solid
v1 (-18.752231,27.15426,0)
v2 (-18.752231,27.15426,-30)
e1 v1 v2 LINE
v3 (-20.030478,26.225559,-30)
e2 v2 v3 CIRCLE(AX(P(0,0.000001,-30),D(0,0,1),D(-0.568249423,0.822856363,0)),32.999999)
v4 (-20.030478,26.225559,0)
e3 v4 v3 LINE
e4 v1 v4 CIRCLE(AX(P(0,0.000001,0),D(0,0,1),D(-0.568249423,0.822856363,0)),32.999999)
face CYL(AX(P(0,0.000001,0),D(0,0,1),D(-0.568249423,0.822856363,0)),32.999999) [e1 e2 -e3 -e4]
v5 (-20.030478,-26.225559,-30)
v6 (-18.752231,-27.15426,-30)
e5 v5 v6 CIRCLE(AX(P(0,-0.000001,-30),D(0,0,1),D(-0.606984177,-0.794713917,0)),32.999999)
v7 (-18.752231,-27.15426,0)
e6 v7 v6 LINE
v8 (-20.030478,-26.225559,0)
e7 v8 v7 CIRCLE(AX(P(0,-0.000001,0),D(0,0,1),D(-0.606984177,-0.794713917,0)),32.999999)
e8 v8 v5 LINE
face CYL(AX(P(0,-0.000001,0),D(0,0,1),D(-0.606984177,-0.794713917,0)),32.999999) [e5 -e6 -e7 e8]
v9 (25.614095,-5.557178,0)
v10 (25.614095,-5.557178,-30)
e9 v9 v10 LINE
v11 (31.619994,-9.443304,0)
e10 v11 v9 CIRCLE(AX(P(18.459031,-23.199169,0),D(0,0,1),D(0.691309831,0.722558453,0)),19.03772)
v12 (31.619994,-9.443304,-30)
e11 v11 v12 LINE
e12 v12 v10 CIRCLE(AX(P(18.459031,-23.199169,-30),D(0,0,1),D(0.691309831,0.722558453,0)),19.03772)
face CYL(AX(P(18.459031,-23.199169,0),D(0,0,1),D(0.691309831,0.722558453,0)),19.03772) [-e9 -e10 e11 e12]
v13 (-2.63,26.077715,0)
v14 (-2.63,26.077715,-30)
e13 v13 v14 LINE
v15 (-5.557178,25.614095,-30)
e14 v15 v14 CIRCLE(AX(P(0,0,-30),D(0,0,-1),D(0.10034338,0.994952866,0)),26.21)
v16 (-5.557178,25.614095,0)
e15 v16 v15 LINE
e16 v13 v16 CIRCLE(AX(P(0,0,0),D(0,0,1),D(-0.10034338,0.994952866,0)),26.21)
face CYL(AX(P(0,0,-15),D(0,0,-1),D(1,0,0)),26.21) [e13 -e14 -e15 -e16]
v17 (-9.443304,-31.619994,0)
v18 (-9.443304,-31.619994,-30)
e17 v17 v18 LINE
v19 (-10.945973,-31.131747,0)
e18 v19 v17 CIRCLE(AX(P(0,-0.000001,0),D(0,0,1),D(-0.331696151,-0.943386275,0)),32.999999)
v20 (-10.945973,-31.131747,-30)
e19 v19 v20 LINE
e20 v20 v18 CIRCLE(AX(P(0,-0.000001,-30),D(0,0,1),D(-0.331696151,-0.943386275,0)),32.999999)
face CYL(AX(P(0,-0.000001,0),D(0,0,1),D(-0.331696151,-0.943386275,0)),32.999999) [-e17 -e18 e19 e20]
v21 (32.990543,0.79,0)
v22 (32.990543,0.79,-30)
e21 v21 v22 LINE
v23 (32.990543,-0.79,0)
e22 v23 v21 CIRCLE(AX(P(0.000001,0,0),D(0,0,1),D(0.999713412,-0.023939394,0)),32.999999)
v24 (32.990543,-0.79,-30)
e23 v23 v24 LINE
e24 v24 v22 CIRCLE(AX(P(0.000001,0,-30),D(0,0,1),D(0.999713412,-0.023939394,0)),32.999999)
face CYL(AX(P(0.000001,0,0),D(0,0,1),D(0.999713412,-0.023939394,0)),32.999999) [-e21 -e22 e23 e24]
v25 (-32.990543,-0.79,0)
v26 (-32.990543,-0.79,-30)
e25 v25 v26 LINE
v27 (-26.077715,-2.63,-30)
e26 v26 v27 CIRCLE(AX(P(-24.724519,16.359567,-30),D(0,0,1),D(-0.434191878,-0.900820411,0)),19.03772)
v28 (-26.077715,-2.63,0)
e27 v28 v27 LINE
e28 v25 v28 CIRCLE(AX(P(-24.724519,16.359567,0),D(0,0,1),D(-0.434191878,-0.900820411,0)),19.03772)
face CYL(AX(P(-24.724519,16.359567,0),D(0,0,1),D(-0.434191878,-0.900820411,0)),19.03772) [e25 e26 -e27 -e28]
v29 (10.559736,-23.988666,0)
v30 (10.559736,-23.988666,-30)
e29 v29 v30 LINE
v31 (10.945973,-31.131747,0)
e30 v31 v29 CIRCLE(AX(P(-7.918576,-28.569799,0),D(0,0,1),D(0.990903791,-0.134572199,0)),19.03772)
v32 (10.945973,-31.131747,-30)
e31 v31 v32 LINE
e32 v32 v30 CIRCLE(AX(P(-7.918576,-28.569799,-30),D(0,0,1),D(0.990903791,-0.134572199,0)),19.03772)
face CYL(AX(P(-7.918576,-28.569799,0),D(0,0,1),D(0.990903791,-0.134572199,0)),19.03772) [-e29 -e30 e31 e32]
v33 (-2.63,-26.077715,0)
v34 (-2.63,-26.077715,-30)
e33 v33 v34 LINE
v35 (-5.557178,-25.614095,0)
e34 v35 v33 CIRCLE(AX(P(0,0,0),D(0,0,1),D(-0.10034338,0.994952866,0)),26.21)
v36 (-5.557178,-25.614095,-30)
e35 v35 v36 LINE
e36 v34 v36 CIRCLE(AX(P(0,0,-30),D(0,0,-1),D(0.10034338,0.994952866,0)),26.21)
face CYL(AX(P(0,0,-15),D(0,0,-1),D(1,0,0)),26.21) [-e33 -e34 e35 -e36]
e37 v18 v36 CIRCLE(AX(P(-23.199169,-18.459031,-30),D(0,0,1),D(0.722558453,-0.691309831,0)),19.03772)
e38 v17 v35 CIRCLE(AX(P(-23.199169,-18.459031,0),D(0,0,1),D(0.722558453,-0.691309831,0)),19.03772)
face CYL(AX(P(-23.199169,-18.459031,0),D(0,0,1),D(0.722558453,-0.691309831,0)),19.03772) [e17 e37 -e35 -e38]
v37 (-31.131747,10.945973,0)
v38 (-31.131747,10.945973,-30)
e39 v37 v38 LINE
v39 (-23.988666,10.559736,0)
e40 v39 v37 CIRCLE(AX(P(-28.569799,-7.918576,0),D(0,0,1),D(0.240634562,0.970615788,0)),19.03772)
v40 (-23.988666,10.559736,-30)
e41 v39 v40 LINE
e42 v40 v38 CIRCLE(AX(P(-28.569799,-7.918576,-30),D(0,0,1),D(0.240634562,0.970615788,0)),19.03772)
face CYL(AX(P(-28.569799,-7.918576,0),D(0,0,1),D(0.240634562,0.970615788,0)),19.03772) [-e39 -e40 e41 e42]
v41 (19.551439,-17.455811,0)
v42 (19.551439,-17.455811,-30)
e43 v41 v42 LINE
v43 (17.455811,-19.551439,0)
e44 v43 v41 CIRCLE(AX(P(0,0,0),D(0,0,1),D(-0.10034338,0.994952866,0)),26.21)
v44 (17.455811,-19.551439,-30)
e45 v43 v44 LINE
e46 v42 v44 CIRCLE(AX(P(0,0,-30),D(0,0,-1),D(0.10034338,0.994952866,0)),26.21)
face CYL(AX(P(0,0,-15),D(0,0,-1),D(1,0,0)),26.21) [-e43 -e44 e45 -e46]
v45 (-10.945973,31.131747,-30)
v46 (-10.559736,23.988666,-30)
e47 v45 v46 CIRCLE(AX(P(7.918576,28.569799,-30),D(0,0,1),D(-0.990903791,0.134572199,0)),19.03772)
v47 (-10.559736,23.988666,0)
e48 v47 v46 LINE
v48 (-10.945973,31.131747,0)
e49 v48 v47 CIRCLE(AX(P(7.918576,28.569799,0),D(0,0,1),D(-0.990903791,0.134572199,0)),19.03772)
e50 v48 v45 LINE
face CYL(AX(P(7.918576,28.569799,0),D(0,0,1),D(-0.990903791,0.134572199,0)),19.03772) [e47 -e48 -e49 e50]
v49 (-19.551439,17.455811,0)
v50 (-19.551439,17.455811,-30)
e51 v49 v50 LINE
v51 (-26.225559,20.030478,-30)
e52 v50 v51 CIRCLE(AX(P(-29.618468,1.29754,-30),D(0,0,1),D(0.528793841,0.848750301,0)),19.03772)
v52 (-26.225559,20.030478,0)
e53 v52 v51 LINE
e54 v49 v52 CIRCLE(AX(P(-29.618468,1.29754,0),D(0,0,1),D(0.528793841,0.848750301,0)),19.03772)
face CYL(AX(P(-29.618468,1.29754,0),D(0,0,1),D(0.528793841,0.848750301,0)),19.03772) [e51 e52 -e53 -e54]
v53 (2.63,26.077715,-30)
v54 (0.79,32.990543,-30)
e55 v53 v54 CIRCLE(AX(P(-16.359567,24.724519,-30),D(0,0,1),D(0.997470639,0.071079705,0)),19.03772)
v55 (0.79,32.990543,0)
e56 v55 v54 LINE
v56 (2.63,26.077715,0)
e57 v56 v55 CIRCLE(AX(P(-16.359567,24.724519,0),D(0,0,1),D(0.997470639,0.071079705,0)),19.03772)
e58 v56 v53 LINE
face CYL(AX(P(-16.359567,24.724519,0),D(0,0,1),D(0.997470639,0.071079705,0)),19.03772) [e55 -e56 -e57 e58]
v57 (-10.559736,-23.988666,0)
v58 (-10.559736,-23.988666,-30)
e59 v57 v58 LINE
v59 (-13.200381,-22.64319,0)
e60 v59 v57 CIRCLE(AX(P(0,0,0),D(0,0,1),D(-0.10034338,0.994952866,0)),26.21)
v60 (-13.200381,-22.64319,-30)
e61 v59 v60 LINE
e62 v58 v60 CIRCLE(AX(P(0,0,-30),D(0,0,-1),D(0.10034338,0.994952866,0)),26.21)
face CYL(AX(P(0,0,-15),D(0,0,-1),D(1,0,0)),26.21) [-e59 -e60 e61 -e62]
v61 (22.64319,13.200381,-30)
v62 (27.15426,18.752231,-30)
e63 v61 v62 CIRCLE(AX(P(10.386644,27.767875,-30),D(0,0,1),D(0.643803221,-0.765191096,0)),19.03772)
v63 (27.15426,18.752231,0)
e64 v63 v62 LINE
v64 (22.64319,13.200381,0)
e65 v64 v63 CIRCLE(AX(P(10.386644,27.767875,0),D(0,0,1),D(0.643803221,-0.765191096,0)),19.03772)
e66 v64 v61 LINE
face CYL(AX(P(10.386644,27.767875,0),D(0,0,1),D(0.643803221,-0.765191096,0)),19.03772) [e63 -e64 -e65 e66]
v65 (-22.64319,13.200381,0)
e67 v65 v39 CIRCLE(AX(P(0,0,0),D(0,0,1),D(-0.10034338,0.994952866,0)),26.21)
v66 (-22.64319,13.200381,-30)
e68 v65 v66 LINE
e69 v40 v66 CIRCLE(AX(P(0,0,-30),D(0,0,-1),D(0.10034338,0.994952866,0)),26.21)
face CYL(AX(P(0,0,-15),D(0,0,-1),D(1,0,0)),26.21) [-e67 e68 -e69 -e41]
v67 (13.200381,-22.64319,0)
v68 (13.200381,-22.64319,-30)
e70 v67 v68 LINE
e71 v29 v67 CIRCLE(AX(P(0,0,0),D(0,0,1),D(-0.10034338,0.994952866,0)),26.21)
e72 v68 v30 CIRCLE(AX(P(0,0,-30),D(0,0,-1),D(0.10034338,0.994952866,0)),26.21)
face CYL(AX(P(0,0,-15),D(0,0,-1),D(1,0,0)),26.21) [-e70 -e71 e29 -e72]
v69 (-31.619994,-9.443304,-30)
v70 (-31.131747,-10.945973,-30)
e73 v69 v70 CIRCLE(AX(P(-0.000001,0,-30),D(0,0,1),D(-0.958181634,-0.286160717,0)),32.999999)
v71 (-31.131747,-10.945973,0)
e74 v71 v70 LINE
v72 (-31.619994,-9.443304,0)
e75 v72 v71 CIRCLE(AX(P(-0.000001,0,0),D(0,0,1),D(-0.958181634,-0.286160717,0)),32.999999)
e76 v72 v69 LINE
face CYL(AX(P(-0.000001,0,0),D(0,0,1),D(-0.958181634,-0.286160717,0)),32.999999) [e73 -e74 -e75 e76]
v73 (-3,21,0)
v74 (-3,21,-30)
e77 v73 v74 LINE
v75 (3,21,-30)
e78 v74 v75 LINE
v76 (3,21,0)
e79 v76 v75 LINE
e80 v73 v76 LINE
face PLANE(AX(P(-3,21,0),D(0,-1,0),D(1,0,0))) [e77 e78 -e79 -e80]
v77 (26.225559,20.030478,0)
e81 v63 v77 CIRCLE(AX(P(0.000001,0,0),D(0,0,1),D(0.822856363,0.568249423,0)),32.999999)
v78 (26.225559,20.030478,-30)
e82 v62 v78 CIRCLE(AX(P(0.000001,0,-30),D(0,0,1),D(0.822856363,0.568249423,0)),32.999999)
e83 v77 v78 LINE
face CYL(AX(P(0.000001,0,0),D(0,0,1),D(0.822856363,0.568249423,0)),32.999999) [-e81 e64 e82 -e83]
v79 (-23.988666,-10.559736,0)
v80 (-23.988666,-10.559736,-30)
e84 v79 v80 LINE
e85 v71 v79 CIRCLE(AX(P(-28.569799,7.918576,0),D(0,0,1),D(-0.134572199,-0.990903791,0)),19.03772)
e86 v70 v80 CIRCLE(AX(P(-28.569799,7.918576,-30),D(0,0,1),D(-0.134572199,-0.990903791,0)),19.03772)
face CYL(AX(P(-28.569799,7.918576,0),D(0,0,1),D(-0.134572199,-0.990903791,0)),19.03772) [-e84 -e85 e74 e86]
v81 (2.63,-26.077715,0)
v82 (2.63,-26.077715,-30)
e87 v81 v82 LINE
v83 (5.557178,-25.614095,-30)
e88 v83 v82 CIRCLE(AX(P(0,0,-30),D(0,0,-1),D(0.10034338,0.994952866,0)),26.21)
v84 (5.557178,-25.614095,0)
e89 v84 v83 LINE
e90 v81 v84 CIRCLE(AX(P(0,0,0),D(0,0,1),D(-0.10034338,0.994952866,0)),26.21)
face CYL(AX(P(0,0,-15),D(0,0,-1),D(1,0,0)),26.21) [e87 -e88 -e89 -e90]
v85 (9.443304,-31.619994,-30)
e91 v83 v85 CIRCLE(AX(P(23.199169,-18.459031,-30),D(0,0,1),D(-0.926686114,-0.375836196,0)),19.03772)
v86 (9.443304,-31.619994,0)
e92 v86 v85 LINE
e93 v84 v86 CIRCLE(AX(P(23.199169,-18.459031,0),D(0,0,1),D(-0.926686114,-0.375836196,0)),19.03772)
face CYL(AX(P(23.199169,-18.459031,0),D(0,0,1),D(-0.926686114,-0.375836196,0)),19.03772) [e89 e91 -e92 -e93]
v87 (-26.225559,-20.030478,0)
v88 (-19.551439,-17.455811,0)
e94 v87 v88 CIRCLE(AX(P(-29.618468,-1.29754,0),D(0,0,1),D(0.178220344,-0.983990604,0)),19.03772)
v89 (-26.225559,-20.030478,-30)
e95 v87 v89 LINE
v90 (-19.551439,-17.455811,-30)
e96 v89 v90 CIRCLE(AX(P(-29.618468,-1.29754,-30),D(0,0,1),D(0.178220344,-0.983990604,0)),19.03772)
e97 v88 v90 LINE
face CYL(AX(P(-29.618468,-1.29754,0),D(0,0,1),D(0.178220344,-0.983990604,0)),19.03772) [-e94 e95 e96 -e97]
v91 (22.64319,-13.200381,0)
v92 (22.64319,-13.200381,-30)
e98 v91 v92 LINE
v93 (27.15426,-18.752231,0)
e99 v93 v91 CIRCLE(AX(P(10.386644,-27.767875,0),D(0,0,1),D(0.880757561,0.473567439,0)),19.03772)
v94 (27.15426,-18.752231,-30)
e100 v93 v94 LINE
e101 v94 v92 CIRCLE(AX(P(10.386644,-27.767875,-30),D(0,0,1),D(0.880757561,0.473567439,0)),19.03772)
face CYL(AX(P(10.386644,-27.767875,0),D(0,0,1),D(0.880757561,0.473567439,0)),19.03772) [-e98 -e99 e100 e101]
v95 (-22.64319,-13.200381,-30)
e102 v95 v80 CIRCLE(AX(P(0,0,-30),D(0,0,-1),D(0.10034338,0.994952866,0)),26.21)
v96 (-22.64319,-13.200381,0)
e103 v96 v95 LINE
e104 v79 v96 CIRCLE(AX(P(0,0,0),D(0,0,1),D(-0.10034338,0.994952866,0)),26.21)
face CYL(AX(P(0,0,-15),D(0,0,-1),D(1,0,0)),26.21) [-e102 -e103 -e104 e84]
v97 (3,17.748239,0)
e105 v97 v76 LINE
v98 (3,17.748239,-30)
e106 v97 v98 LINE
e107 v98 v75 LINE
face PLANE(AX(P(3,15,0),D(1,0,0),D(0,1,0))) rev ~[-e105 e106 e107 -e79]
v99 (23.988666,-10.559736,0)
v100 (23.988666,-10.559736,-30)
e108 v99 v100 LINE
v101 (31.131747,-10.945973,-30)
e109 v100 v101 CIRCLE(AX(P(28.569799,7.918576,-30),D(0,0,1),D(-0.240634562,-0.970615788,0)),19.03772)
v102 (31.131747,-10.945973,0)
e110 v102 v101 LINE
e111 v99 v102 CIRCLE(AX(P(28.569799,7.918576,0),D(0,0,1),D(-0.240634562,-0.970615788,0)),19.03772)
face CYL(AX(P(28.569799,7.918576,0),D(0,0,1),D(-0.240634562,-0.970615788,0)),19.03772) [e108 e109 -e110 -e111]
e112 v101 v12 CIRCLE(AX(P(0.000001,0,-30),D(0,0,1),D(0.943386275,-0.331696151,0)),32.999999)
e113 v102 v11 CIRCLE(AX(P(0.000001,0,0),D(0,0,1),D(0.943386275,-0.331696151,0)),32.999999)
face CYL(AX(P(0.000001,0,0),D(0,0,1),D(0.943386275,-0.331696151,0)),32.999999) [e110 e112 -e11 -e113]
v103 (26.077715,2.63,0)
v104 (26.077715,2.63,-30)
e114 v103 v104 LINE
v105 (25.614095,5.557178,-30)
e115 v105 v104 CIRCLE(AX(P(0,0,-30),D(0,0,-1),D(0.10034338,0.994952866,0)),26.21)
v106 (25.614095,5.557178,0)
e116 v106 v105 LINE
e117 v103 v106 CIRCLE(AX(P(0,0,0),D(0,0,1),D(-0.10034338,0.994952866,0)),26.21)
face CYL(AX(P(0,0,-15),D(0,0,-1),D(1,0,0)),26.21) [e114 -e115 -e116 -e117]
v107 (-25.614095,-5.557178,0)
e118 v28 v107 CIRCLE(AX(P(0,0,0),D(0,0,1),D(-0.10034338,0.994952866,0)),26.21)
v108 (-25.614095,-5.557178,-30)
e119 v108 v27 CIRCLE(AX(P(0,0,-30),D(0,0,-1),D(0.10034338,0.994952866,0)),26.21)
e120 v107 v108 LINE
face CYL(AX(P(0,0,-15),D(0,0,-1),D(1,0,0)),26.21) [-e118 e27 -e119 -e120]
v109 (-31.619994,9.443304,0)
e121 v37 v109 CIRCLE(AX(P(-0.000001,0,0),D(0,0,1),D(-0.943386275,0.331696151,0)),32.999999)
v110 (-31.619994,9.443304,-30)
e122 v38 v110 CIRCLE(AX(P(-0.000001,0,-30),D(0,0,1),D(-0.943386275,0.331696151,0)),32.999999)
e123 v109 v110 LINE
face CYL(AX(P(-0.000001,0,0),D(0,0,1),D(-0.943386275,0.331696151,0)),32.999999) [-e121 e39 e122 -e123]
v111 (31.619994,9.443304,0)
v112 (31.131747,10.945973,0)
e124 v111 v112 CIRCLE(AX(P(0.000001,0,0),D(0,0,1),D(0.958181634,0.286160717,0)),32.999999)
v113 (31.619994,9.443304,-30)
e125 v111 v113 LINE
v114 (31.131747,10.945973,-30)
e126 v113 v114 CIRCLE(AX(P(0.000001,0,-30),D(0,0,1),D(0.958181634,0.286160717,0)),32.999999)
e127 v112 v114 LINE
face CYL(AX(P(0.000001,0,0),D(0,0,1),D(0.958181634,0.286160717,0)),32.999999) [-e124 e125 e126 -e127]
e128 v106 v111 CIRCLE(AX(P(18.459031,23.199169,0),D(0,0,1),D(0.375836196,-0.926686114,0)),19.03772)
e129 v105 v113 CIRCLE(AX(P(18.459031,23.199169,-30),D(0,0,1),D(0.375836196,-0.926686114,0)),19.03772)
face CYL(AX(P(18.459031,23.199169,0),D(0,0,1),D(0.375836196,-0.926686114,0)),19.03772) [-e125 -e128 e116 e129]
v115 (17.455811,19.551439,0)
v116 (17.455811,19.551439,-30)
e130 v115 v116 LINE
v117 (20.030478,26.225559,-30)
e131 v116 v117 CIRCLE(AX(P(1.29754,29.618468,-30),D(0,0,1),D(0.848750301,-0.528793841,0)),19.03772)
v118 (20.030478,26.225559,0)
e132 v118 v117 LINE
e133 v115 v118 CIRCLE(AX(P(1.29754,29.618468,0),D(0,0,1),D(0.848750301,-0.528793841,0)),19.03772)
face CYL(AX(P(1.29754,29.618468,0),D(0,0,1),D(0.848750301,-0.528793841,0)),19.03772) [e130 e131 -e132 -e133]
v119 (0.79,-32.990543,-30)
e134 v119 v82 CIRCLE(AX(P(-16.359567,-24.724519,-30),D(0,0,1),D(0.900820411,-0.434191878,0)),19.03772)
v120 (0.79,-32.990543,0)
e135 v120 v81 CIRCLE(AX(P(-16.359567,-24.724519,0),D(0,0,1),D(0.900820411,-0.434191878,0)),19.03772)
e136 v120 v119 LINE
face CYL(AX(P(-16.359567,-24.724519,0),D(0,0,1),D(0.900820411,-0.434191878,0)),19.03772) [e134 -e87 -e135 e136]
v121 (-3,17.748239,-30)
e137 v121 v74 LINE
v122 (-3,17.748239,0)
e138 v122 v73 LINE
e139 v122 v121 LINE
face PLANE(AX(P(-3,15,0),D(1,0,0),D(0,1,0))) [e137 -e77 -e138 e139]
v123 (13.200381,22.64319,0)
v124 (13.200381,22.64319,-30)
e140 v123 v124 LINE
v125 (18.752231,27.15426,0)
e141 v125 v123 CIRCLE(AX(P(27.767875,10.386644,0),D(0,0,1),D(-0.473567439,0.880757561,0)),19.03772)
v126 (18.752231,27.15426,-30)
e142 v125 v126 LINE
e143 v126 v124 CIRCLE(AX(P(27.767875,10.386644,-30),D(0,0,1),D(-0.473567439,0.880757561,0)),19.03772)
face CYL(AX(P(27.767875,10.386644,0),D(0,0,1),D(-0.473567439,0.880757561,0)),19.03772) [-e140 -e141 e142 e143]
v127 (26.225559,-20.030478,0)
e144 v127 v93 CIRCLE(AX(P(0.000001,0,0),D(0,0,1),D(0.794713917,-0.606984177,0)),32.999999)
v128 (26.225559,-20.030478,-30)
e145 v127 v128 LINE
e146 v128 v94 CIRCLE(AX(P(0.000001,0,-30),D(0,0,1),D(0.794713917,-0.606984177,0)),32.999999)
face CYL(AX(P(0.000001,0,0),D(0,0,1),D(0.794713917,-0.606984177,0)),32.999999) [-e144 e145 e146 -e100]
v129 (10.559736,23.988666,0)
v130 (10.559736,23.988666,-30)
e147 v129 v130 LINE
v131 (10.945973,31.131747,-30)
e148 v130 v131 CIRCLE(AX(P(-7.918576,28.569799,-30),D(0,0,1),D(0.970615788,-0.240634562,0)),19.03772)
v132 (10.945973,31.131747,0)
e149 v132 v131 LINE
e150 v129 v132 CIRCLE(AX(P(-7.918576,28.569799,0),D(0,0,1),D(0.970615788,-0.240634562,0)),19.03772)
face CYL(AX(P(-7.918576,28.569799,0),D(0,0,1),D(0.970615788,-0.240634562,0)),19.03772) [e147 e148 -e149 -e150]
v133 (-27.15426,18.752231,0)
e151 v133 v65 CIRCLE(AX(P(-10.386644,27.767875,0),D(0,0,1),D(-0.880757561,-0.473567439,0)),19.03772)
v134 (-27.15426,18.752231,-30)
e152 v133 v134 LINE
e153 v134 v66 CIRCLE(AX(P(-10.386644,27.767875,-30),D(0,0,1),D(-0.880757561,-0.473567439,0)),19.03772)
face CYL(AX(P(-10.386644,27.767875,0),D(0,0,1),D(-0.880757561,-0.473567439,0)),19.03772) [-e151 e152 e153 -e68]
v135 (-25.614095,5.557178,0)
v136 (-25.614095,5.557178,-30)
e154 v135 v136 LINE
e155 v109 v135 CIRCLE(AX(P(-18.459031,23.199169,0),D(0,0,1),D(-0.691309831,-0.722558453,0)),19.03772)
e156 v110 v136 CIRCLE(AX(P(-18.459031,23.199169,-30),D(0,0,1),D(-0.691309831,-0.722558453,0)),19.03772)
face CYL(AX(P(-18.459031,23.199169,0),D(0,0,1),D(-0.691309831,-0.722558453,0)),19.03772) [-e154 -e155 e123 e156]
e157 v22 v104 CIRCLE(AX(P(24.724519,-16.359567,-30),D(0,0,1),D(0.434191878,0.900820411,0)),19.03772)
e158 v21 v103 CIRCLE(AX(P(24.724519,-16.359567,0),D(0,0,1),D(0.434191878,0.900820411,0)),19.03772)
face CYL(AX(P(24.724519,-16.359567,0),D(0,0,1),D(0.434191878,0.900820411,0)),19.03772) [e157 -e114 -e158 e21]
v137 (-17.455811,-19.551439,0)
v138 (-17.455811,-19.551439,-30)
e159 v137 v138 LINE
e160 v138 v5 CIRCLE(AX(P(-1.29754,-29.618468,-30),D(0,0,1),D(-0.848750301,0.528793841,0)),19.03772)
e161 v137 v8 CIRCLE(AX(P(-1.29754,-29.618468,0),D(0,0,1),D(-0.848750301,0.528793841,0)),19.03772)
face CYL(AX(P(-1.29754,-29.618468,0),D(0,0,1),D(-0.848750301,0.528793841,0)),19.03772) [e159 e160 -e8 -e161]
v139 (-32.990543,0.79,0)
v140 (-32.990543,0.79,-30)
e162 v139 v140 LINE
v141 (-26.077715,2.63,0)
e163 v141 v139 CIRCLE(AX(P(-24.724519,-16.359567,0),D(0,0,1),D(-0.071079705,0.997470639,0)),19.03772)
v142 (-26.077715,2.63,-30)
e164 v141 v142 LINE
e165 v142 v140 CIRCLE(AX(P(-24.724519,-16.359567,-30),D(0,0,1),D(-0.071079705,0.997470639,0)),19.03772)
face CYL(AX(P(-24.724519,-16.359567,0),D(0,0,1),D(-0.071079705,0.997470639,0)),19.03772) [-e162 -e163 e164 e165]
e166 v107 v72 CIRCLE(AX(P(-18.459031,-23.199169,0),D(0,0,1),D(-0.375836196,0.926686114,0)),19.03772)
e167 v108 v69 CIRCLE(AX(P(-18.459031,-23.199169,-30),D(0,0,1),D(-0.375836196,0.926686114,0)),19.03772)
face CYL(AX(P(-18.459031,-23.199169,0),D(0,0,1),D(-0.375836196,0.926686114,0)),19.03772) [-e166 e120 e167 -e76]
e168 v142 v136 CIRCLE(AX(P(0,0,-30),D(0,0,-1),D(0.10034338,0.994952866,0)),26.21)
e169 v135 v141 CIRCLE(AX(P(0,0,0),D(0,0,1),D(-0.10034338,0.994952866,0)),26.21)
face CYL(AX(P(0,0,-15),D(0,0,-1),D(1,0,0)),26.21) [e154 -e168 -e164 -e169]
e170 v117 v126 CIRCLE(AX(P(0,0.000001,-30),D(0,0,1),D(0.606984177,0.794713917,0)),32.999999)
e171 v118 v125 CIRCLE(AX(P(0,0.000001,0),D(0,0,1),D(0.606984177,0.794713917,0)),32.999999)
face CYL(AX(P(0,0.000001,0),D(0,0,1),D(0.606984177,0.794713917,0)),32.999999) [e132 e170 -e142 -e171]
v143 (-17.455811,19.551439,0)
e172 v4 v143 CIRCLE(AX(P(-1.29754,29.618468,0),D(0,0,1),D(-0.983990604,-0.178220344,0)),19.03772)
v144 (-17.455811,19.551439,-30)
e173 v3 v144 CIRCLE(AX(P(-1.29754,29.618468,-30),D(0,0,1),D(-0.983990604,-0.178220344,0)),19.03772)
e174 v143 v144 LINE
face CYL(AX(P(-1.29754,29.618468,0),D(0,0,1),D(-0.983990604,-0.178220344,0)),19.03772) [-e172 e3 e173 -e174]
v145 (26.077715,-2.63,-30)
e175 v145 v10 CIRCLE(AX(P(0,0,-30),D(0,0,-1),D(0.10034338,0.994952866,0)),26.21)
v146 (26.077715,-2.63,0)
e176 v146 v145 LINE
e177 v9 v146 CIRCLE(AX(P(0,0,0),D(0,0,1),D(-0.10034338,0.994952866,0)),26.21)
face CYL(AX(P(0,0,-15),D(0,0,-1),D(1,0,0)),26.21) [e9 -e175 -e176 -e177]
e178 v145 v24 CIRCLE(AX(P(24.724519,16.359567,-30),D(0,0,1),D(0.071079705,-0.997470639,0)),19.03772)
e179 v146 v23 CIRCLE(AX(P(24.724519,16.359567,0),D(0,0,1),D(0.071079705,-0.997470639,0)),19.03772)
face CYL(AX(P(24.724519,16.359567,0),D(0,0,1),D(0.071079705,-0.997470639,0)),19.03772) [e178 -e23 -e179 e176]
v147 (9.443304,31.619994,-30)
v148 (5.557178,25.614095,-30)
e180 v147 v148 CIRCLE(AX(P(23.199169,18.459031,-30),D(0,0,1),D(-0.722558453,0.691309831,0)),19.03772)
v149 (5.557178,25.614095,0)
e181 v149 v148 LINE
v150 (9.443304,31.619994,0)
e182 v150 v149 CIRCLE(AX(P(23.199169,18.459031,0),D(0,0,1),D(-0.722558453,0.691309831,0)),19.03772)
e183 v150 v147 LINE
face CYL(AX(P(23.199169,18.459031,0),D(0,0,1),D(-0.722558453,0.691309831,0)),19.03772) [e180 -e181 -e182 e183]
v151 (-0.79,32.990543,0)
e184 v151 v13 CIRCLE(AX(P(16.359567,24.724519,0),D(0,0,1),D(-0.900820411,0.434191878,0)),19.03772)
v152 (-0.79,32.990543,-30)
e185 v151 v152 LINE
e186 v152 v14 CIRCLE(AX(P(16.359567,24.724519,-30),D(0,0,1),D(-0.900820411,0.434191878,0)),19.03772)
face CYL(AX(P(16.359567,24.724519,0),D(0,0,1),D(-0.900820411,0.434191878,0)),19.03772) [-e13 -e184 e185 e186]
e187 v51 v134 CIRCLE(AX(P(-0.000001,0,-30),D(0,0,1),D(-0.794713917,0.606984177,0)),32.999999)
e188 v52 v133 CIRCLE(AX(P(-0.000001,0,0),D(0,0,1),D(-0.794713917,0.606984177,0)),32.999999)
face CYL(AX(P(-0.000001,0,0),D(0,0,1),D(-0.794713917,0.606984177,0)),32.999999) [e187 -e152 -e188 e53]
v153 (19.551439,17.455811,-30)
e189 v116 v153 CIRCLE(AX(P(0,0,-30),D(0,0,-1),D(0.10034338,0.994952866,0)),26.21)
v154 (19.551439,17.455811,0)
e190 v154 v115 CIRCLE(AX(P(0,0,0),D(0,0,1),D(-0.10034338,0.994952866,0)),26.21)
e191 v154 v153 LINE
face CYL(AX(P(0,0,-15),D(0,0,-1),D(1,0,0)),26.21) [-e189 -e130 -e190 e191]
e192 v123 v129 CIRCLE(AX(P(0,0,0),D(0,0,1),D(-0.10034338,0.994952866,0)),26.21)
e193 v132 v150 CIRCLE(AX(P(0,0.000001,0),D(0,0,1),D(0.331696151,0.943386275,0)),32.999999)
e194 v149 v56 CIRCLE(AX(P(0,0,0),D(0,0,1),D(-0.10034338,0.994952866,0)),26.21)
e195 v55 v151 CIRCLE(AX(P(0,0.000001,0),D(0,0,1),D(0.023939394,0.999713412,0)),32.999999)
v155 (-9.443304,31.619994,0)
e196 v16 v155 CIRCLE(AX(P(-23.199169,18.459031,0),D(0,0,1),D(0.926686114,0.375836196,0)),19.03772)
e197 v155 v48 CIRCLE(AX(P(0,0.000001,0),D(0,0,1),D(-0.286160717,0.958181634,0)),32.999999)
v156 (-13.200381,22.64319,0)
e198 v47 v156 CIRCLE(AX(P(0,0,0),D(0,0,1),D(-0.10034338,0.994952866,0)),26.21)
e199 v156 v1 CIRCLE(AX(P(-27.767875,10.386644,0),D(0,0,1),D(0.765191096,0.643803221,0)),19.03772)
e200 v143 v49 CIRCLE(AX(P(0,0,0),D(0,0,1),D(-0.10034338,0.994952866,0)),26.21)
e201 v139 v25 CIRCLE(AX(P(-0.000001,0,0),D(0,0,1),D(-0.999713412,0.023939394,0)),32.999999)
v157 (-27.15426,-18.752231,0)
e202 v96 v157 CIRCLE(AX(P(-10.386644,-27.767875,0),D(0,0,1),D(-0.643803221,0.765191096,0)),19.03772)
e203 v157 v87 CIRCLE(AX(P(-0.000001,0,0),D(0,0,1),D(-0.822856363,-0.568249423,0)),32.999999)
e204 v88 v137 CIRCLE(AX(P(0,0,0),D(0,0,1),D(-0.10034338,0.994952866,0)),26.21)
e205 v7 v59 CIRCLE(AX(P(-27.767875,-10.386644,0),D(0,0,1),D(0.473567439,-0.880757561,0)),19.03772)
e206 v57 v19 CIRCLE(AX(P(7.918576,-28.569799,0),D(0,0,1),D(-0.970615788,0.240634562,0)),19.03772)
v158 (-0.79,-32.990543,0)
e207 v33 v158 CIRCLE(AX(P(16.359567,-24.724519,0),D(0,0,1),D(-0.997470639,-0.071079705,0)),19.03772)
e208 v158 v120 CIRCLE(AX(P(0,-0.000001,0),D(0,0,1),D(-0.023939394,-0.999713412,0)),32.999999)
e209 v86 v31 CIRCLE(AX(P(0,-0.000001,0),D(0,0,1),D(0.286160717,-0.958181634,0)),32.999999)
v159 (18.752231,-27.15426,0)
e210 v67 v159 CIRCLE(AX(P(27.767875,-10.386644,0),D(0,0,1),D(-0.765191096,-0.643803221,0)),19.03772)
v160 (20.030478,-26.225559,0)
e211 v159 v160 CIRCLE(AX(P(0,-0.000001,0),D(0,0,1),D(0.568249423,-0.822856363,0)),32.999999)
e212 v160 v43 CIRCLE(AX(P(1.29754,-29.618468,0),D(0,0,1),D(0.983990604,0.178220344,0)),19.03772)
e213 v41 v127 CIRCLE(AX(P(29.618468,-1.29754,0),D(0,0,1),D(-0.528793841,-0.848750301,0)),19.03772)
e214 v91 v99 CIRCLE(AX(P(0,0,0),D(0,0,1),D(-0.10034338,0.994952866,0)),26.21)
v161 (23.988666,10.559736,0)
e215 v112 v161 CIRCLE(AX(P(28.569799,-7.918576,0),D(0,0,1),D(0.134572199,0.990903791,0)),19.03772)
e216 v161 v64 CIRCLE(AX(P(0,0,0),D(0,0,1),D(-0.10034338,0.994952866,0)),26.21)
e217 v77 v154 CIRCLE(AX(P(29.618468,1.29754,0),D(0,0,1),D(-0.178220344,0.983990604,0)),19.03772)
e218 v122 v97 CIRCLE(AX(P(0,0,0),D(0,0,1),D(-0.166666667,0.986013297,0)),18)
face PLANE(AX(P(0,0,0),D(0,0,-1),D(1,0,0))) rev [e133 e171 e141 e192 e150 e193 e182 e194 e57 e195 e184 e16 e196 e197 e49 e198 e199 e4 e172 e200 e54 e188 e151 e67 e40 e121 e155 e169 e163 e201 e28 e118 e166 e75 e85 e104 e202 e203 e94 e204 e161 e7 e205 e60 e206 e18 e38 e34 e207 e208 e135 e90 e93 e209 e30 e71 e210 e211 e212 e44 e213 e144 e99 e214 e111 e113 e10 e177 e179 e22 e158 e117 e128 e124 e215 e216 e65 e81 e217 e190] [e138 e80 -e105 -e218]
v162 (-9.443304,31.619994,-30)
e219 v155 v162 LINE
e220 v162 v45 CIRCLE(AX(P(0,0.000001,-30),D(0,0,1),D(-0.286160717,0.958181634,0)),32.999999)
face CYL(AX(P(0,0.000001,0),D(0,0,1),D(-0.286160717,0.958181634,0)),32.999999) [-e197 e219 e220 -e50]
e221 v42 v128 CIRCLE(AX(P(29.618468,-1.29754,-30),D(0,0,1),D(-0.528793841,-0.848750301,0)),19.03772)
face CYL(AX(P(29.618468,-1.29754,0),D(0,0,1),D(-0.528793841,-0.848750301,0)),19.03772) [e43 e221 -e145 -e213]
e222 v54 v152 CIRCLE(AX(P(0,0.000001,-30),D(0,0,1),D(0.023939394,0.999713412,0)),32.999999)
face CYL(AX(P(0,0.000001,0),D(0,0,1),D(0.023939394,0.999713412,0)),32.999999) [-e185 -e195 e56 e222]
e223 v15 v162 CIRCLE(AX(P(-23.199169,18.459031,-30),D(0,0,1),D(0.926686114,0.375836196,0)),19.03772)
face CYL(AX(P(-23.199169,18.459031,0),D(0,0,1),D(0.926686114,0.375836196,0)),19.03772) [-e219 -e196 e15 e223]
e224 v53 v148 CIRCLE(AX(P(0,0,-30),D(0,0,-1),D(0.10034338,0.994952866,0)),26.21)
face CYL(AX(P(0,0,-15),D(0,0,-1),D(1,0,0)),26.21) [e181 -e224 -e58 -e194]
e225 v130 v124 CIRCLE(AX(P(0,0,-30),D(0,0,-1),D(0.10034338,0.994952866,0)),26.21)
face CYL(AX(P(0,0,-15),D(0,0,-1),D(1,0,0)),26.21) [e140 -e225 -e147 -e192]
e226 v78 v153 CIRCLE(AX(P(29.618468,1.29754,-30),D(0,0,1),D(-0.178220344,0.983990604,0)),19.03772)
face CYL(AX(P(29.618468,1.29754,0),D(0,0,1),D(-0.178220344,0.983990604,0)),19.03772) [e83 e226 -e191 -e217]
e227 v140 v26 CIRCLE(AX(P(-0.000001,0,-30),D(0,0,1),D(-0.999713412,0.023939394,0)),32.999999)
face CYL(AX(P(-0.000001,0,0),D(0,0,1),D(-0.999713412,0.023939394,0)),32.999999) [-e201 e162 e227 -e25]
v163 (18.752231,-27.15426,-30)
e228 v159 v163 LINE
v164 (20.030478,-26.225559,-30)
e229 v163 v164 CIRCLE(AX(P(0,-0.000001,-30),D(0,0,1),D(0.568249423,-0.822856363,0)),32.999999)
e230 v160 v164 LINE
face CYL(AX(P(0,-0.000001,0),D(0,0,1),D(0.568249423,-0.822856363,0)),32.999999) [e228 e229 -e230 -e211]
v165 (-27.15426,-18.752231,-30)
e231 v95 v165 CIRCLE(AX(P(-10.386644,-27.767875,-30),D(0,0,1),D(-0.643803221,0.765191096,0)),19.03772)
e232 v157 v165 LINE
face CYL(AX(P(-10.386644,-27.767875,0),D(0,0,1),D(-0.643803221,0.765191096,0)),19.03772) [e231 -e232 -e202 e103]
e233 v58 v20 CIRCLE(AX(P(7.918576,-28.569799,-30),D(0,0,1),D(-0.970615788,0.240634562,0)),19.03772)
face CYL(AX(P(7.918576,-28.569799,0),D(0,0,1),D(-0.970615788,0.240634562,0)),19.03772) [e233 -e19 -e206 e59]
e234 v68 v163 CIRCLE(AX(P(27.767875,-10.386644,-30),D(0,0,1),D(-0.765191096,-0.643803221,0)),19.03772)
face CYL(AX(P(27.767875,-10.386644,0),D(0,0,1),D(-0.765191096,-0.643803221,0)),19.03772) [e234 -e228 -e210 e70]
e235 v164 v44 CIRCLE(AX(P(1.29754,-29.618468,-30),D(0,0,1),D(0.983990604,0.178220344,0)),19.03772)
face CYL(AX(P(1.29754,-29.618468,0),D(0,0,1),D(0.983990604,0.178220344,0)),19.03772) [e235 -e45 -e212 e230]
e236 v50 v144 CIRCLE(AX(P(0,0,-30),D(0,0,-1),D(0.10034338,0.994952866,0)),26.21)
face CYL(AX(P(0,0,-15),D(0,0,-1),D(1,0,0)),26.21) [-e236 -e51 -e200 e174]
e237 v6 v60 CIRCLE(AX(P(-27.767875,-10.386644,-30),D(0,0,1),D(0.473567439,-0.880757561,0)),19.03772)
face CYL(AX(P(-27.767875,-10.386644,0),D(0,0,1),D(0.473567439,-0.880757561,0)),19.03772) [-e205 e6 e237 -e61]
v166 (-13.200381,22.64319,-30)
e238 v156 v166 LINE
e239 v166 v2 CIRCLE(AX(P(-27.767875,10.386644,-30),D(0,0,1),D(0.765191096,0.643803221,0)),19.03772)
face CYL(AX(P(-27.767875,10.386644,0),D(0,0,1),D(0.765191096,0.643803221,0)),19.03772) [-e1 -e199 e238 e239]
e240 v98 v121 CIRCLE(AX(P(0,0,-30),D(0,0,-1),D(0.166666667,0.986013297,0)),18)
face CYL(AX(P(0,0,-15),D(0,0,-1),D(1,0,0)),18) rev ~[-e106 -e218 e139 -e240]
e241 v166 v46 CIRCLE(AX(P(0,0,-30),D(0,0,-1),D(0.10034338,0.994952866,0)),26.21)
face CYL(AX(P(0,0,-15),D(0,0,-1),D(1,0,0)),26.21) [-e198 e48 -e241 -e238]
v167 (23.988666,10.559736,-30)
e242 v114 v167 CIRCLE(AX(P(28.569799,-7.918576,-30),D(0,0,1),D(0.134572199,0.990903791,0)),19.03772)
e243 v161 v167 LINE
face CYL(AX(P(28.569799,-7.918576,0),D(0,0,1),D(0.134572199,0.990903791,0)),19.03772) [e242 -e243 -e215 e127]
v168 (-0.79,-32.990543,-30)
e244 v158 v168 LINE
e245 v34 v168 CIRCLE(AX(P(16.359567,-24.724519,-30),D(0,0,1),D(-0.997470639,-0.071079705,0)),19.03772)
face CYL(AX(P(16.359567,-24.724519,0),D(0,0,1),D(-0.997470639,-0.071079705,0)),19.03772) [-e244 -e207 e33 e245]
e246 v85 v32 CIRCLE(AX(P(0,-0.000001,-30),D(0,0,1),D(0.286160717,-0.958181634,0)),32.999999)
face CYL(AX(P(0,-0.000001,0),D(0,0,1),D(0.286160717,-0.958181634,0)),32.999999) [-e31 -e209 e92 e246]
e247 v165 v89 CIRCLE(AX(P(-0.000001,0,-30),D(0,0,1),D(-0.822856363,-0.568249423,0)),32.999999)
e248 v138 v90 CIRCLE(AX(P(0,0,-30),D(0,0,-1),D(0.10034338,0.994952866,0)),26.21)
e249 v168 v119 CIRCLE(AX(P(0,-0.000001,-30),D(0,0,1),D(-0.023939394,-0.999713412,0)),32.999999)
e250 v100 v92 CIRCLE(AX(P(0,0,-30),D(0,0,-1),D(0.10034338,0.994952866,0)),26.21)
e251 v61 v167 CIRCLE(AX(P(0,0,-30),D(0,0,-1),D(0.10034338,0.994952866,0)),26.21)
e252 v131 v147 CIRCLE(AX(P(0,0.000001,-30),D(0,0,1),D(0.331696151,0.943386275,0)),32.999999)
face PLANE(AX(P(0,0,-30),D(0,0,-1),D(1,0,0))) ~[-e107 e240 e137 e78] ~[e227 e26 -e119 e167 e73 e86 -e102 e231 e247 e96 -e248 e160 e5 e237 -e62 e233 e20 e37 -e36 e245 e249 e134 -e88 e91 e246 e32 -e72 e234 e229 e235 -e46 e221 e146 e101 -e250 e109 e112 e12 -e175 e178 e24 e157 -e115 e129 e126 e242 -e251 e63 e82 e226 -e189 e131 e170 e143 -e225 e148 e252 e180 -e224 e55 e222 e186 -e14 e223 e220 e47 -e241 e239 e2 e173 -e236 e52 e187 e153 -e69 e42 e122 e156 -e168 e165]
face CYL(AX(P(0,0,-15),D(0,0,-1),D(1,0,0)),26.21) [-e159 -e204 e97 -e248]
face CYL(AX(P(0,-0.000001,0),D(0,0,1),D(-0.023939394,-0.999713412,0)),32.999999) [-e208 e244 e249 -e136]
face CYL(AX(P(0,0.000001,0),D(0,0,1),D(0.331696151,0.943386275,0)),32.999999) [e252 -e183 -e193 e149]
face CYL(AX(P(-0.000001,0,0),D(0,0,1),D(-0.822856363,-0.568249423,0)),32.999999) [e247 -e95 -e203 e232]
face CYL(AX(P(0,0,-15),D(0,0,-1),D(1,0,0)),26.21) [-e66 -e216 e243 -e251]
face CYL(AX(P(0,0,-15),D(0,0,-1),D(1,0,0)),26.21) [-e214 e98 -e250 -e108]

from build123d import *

# Parameters (mm, degrees)
SKETCH1_W           = 8.21
SKETCH1_H           = 30
BOSS_EXTRUDE1_DEPTH = 30
CIRPATTERN1_COUNT   = 20
SKETCH3_W           = 6
SKETCH3_H           = 6
CUT_EXTRUDE1_DEPTH  = 56.479726027


with BuildPart() as part:
    # Sketch1 → Revolve1 (revolve)
    with BuildSketch(Plane(origin=(0, 0, 0), x_dir=(1, 0, 0), z_dir=(0, 1, 0))):
        with Locations((22.105, 15)):
            Rectangle(SKETCH1_W, SKETCH1_H)
    revolve(axis=Axis((0, 0, 0), (0, 0, -1)))

    # Sketch2 → Boss-Extrude1 (add)
    with BuildSketch(Plane.XY):
        with BuildLine():
            ThreePointArc((2.63, 26.077714624), (2.037608033, 29.62132863), (0.79, 32.990542584))
            ThreePointArc((0.79, 32.990542584), (0, 33), (-0.79, 32.990542584))
            ThreePointArc((-0.79, 32.990542584), (-2.037608033, 29.62132863), (-2.63, 26.077714624))
            ThreePointArc((-2.63, 26.077714624), (0, 26.21), (2.63, 26.077714624))
        make_face()
    boss_extrude1 = extrude(amount=-BOSS_EXTRUDE1_DEPTH)

    # CirPattern1: Boss-Extrude1 ×20 about axis
    cirpattern1_axis = Axis((0, 0, 0), (0, 0, 1))
    for i in range(1, CIRPATTERN1_COUNT):
        add(boss_extrude1.rotate(cirpattern1_axis, i * 360 / CIRPATTERN1_COUNT))

    # Sketch3 → Cut-Extrude1 (cut, through all)
    with BuildSketch(Plane.XY):
        with Locations((0, 18)):
            Rectangle(SKETCH3_W, SKETCH3_H)
    extrude(amount=-CUT_EXTRUDE1_DEPTH, mode=Mode.SUBTRACT)


solid = part.part
